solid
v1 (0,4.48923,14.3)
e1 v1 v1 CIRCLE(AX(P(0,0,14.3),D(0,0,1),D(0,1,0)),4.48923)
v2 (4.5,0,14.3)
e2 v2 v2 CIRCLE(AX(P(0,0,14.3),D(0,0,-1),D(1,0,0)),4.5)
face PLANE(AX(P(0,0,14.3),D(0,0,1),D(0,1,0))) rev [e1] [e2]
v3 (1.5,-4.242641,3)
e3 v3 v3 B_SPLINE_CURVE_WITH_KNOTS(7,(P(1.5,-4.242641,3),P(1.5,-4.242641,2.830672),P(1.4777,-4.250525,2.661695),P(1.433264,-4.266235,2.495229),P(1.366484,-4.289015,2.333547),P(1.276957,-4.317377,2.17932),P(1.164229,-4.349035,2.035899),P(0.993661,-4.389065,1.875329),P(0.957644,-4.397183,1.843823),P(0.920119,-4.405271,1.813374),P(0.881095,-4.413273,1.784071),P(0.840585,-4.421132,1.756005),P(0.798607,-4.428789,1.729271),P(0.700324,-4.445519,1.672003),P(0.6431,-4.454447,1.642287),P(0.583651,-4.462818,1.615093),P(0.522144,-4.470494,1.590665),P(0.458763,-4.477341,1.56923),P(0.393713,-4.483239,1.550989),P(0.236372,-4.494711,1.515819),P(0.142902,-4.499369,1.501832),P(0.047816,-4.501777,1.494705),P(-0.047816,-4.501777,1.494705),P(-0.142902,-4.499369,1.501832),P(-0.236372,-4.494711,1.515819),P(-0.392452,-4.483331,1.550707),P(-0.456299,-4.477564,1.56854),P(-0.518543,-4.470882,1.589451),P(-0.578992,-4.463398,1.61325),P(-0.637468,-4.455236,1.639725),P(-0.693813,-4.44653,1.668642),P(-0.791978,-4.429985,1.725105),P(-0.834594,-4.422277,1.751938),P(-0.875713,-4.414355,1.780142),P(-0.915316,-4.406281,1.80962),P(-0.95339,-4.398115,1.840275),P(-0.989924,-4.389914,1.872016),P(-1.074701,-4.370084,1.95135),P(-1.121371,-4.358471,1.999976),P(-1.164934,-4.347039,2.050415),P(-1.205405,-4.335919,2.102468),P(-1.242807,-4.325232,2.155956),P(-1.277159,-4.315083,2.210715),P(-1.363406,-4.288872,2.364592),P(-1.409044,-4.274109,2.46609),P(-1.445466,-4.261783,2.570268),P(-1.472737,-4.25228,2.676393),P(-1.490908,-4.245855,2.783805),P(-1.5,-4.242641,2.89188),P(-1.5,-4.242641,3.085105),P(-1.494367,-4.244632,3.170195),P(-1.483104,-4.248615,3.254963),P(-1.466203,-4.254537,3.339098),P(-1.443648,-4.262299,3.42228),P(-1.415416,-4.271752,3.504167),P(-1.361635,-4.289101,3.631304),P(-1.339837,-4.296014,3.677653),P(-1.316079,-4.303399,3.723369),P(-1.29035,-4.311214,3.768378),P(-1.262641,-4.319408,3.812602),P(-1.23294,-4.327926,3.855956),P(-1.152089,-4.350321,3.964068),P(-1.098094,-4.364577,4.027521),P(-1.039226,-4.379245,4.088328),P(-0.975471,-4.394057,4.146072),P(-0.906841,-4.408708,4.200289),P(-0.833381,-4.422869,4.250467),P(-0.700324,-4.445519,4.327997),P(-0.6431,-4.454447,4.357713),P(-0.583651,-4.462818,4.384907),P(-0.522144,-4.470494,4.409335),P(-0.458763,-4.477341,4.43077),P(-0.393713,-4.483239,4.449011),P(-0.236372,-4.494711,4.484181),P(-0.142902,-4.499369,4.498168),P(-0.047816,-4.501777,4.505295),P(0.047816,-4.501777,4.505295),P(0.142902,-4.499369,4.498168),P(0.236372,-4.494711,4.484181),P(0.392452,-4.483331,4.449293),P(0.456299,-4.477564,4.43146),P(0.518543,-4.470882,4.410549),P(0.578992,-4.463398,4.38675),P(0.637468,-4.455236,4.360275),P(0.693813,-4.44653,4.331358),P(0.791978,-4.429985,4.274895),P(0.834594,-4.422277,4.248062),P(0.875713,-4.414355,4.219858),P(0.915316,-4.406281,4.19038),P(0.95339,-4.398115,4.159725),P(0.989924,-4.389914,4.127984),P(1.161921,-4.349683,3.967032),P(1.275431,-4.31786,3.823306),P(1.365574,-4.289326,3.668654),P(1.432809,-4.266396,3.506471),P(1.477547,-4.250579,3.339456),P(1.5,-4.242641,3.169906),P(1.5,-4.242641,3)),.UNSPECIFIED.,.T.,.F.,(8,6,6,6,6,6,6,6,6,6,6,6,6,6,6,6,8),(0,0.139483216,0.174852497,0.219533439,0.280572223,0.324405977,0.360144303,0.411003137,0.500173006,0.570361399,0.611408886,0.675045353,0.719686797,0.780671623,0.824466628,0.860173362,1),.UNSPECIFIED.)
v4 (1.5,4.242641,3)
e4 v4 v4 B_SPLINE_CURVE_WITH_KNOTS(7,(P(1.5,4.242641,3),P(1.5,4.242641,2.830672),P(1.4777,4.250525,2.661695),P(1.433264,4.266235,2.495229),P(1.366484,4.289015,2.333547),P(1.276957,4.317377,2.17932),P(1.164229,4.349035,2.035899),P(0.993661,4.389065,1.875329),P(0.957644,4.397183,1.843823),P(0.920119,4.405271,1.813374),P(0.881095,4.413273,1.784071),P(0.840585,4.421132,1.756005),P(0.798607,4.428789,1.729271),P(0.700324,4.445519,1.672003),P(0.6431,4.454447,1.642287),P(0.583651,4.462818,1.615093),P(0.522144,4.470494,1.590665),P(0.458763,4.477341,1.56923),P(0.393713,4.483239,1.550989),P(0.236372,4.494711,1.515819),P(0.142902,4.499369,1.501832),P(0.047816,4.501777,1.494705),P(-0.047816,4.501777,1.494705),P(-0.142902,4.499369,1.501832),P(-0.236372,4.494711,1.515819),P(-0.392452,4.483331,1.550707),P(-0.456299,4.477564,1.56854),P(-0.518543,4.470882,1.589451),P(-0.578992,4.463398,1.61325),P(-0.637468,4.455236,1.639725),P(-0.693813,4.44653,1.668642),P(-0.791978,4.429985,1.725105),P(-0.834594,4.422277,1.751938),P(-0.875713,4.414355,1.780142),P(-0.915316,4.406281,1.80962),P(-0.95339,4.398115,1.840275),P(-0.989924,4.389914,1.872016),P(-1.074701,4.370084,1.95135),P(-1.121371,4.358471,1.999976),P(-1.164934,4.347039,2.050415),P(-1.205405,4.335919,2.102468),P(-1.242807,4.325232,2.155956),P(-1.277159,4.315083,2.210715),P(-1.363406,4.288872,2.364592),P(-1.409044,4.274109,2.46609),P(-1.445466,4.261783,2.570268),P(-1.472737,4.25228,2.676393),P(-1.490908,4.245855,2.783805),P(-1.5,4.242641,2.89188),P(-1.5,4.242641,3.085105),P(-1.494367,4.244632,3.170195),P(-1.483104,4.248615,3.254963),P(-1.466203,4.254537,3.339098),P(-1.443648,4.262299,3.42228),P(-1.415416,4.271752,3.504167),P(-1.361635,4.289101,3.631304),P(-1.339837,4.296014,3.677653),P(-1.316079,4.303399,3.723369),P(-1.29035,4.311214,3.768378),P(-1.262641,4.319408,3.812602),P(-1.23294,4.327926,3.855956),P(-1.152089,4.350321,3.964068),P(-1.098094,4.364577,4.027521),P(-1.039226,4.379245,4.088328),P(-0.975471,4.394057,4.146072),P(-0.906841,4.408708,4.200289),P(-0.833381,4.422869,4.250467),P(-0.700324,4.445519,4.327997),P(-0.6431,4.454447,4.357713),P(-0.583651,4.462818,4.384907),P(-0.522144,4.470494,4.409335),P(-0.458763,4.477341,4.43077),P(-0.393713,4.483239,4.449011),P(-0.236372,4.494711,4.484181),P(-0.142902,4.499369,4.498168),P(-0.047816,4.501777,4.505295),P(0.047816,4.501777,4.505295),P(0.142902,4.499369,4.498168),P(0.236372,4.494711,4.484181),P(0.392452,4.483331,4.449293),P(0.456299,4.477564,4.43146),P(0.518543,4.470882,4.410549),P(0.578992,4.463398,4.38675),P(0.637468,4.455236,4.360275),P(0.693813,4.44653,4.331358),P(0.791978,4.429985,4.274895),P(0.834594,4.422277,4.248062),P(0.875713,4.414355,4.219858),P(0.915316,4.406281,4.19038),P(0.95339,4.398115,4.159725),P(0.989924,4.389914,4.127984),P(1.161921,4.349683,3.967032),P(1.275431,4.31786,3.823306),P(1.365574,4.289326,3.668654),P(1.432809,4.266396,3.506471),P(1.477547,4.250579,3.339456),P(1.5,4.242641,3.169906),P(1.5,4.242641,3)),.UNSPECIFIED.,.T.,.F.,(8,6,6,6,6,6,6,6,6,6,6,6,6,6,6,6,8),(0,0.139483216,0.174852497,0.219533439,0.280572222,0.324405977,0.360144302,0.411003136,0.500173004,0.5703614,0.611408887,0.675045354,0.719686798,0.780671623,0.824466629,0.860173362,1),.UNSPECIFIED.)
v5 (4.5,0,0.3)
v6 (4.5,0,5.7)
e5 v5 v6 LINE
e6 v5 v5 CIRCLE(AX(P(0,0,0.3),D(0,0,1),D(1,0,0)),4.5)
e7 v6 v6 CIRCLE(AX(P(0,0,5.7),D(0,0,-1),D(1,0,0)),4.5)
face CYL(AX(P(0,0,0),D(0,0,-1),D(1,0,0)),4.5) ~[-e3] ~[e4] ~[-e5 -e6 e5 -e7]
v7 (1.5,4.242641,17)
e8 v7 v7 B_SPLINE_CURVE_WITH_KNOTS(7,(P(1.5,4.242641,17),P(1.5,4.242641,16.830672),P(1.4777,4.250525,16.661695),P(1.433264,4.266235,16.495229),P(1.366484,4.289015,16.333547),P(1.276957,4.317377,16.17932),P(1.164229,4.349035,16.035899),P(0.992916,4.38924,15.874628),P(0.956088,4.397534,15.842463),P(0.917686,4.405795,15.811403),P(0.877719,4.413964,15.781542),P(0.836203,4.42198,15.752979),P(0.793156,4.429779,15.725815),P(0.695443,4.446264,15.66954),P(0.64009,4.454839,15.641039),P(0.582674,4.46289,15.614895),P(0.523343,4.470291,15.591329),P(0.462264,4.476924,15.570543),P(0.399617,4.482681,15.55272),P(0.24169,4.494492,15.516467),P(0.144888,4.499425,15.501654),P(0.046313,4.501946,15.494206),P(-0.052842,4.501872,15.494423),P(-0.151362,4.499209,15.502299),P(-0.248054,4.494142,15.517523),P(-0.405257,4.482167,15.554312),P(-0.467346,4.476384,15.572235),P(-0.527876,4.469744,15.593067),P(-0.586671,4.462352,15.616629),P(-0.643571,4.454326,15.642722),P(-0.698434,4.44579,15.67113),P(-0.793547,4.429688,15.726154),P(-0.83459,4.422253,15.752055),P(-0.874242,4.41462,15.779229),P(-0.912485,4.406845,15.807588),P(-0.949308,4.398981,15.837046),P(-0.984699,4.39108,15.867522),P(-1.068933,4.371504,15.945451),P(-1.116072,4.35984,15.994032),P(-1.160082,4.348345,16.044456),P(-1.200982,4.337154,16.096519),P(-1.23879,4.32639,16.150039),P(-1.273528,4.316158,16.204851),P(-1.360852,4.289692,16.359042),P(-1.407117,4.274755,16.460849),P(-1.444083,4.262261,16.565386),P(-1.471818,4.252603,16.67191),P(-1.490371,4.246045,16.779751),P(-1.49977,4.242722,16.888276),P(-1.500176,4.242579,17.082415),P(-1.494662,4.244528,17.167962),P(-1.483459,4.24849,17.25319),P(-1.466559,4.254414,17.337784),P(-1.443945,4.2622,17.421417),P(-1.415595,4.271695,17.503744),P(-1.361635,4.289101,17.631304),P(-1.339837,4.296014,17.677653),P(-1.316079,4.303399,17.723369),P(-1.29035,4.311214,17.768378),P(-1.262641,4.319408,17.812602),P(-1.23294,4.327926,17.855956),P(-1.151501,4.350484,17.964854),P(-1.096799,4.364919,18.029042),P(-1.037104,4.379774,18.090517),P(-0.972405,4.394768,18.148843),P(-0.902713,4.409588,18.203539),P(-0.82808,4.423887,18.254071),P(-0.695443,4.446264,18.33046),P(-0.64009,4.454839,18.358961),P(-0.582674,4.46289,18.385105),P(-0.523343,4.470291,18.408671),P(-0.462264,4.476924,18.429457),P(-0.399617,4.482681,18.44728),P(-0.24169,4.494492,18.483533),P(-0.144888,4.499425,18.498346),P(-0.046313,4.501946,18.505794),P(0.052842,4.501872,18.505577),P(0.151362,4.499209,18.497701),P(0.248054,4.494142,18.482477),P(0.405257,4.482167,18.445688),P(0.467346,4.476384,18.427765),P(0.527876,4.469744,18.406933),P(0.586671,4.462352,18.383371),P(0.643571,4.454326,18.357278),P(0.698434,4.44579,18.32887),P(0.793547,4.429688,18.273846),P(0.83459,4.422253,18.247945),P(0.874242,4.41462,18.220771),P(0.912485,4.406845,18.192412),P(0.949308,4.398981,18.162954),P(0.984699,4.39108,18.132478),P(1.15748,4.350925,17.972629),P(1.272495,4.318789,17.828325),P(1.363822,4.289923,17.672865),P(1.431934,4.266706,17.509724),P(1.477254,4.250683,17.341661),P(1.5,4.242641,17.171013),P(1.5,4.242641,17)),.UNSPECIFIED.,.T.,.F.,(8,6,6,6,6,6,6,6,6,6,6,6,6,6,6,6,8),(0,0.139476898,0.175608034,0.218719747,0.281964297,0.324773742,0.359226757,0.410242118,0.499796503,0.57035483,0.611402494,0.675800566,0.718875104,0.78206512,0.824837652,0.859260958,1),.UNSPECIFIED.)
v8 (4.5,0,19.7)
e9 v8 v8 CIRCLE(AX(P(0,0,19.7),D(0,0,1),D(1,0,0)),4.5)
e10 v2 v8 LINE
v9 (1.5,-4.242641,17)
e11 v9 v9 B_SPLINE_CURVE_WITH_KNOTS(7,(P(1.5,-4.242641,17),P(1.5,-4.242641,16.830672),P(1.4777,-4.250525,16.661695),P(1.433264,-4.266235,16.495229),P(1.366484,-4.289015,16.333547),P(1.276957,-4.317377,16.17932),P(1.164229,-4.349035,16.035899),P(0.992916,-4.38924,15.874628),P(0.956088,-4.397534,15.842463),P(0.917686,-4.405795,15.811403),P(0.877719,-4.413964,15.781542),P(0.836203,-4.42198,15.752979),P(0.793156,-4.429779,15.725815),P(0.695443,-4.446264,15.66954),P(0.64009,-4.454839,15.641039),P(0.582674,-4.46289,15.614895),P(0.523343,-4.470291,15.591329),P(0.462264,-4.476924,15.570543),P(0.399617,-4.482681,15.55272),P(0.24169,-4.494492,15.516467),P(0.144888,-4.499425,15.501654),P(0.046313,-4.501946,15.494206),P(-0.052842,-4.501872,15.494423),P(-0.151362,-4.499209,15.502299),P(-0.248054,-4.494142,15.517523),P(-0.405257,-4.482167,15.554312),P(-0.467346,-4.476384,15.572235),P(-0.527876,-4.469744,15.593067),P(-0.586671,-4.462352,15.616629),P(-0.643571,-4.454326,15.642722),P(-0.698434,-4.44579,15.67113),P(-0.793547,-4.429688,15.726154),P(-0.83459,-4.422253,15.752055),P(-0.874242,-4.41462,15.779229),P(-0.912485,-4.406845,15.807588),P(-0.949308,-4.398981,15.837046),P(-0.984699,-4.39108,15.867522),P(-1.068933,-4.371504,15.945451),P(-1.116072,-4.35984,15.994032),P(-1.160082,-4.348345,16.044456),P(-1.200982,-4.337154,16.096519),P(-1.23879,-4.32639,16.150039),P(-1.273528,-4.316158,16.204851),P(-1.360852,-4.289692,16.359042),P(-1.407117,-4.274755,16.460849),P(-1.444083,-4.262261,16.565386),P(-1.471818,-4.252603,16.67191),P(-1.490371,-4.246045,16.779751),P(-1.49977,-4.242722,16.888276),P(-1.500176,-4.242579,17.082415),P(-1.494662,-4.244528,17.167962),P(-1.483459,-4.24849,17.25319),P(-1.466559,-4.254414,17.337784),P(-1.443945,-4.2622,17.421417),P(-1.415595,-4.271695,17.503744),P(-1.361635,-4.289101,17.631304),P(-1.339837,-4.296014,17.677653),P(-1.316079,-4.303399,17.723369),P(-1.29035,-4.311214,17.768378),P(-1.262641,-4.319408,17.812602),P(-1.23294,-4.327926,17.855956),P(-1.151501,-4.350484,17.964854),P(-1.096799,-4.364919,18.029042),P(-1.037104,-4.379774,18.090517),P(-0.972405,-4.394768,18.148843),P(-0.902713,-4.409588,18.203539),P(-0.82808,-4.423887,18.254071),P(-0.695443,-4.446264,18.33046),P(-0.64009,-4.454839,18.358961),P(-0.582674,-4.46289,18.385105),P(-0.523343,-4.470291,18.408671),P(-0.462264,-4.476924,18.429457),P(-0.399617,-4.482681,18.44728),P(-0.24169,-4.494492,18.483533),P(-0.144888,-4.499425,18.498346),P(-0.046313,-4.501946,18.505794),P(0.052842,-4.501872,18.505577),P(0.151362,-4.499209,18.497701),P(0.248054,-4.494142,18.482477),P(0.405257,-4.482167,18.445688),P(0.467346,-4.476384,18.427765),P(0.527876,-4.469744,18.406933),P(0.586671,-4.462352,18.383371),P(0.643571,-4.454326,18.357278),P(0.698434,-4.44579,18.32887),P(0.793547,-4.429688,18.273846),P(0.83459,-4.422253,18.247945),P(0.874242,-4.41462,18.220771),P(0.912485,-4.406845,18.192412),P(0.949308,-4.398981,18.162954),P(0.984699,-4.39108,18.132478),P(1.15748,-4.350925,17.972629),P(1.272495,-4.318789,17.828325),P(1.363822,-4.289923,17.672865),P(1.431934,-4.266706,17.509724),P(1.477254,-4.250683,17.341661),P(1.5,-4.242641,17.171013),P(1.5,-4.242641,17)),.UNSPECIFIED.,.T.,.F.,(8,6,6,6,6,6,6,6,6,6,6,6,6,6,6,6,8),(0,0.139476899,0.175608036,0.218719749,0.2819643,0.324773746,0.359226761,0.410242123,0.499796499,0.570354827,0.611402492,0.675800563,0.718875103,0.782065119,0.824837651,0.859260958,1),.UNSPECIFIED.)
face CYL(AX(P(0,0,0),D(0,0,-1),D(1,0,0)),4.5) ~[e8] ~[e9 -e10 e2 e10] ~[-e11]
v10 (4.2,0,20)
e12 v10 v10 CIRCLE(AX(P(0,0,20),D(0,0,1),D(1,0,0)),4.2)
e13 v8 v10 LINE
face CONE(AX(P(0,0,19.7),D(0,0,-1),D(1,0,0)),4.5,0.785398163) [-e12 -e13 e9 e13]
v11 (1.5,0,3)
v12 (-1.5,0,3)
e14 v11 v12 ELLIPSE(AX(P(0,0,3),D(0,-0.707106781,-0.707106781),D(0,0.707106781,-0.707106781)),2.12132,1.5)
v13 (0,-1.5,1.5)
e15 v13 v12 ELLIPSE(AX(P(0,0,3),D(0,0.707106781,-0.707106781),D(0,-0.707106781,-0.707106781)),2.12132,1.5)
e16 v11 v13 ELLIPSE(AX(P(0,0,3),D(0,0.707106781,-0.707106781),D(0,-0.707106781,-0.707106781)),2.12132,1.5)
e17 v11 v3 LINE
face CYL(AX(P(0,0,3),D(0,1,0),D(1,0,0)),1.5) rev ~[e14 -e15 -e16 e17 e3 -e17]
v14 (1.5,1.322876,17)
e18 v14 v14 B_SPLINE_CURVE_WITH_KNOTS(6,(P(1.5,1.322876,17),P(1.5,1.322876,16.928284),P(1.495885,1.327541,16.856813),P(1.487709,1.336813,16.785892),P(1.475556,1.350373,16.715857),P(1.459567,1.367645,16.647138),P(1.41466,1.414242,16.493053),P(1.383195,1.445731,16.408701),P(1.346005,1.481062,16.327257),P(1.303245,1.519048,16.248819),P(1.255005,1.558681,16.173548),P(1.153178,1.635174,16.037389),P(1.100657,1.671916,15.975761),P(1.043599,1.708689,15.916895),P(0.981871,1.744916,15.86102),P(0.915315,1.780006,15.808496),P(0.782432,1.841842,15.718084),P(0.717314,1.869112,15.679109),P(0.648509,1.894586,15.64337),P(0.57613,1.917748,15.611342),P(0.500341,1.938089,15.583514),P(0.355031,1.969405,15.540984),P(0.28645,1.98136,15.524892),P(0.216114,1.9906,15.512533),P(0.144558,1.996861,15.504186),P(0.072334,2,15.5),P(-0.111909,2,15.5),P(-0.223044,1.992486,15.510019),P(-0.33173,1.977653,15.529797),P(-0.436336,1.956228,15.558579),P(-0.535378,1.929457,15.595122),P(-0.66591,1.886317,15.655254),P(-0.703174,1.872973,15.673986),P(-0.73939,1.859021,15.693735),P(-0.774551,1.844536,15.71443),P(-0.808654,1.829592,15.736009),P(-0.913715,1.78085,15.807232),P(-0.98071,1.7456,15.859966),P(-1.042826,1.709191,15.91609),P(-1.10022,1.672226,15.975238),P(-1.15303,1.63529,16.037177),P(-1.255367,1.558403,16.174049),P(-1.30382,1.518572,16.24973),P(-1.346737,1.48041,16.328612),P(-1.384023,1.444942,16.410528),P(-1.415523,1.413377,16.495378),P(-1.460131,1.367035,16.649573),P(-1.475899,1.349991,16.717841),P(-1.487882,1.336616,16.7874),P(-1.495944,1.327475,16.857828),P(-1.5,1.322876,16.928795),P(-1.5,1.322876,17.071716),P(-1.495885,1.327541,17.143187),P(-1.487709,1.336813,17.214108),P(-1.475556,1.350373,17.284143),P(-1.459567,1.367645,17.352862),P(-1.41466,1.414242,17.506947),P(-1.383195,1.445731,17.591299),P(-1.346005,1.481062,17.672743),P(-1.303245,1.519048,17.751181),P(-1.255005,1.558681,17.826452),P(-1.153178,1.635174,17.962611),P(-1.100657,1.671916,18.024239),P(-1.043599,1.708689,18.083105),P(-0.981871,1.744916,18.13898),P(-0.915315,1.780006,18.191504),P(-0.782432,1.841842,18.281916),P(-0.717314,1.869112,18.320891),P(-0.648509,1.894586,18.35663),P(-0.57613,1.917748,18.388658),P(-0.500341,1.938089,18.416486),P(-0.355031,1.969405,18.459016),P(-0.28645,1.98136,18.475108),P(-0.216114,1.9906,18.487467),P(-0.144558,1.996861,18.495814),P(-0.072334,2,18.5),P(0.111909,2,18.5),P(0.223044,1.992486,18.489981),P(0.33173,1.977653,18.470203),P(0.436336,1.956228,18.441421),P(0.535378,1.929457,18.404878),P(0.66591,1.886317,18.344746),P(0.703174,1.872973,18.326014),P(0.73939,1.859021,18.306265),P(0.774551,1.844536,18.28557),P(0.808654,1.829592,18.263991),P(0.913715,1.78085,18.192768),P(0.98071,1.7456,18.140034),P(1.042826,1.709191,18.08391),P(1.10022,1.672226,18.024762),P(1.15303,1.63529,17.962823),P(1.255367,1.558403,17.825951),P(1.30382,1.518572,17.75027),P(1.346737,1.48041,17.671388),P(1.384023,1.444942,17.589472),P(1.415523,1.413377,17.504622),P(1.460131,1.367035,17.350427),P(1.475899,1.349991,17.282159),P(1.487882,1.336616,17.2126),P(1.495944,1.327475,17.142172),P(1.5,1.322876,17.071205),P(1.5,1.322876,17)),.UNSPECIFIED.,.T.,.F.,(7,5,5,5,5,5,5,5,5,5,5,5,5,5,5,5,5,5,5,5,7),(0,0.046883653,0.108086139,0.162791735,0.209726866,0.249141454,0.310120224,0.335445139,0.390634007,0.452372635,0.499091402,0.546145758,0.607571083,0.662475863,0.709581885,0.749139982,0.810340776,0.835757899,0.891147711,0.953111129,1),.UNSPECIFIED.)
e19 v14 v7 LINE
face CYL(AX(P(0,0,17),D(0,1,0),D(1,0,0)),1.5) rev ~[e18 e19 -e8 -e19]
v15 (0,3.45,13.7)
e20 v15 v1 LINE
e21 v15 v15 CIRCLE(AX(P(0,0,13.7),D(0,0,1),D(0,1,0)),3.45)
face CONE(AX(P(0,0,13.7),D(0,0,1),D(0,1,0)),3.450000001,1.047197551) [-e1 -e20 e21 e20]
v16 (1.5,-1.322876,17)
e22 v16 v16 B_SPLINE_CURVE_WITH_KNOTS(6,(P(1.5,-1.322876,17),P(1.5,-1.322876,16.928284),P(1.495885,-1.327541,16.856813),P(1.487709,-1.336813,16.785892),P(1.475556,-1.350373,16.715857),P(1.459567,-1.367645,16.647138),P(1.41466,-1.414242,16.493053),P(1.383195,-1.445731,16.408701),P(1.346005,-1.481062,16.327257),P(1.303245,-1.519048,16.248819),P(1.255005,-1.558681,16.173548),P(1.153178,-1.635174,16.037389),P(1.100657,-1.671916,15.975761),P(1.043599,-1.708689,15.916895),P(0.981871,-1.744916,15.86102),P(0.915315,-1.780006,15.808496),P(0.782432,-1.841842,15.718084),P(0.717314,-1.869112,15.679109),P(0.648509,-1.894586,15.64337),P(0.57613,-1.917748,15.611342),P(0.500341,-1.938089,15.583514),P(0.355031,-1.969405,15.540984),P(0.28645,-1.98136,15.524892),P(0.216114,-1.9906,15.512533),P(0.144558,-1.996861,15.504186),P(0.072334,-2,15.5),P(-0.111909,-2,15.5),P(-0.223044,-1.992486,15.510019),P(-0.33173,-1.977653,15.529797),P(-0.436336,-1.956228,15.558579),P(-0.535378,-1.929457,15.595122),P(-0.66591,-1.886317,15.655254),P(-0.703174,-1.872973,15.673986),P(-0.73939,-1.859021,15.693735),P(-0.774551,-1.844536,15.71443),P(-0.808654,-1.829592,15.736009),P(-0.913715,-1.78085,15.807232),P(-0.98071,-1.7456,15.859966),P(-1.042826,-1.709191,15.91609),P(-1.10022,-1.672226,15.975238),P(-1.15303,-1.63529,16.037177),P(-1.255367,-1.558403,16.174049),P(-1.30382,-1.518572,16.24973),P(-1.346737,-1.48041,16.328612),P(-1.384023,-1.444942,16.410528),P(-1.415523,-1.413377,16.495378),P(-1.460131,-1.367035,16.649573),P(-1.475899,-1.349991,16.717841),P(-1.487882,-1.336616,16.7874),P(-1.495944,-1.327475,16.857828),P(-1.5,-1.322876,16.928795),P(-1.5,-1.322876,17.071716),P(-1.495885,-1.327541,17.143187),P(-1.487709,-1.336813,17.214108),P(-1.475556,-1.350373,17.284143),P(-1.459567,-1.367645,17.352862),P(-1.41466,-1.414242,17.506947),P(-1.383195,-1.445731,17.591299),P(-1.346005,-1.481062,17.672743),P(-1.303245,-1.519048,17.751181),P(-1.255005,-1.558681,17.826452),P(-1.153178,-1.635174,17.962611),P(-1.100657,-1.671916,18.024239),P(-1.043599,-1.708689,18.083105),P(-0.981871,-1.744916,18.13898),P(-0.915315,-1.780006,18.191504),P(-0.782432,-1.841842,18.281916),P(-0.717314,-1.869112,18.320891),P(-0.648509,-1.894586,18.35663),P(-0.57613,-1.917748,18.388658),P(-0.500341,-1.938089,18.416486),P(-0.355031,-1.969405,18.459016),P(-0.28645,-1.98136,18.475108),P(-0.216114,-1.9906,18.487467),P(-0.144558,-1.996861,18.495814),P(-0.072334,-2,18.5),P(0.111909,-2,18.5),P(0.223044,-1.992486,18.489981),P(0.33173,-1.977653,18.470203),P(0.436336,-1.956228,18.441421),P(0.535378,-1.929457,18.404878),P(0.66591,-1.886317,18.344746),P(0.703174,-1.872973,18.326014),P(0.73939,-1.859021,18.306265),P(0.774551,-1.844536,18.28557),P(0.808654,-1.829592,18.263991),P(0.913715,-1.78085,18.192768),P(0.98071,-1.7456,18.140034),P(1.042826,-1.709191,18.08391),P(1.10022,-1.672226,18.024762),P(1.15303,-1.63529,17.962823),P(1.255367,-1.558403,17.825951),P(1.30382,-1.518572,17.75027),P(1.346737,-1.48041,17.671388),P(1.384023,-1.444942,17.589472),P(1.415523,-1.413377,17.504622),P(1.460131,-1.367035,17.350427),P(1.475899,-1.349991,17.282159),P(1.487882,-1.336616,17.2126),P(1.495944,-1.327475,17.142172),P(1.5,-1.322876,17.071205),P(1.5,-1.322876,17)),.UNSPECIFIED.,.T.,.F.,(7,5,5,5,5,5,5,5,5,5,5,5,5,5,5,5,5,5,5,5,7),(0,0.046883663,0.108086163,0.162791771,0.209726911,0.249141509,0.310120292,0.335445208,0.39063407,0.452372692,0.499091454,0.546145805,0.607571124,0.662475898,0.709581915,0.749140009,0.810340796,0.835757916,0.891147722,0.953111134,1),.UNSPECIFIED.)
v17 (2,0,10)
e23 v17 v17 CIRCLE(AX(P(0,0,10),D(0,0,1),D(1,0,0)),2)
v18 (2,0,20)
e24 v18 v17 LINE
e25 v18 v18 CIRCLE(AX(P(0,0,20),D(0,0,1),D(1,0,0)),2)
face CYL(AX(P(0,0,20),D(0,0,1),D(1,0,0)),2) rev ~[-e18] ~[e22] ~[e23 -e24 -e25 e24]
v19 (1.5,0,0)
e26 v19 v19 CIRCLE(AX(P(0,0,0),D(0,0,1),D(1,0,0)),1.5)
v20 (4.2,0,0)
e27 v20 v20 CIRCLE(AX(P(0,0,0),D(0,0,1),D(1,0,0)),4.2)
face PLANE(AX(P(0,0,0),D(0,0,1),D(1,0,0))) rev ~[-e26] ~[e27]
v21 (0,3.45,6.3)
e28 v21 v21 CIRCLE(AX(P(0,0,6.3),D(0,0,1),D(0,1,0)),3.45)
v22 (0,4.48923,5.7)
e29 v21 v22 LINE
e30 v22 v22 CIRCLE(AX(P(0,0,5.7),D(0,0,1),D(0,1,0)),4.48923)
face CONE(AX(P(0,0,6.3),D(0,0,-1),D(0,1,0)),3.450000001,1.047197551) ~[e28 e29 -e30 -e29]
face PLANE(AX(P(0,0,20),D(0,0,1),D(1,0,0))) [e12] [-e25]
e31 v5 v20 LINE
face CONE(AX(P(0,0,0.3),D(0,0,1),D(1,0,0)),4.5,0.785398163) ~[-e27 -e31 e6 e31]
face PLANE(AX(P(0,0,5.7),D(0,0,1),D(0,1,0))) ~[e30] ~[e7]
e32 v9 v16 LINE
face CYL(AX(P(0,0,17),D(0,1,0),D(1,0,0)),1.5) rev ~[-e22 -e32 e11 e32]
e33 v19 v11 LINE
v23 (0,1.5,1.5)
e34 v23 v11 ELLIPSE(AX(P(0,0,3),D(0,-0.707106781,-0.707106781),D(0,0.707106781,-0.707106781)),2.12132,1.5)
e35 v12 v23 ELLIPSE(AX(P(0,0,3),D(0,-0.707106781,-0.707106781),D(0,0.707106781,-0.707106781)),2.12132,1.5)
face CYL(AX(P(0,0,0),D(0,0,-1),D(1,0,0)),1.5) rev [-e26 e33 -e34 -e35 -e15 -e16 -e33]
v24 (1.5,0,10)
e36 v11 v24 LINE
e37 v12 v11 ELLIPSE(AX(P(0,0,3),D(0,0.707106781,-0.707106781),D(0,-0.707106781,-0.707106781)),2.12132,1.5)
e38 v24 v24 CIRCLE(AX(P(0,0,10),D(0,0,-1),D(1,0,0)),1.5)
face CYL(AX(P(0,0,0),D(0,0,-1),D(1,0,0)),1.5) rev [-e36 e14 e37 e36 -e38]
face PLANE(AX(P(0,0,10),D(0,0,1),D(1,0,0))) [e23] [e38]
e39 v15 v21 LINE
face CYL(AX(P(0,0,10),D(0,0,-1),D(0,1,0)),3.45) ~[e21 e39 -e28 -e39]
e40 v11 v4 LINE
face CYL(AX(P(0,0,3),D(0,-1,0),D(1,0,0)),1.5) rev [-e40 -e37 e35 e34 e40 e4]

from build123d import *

# Parameters (mm, degrees)
SKICA8_R                 = 4.5
SKICA8_R_2               = 1.5
P_IDAT_VYSUNUT_M8_DEPTH  = 20
SKICA9_W                 = 8.6
SKICA9_H                 = 1.884529933
ZKOSEN_1_SIZE            = 0.6
ZKOSEN_1_SIZE2           = 1.039230485
ZKOSEN_2_SIZE            = 0.6
ZKOSEN_2_SIZE2           = 1.039230485
ZKOSEN_3_SIZE            = 0.3
SKICA10_R                = 1.5
ODEBRAT_VYSUNUT_M1_DEPTH = 10
SKICA11_R                = 2
ODEBRAT_VYSUNUT_M2_DEPTH = 10


with BuildPart() as part:
    # Skica8 → Přidat vysunutím8 (new body)
    with BuildSketch(Plane(origin=(23.8, 0, 0), x_dir=(1, 0, 0), z_dir=(0, 0, 1))):
        with Locations((-23.8, 0)):
            Circle(SKICA8_R)
        with Locations((-23.8, 0)):
            Circle(SKICA8_R_2, mode=Mode.SUBTRACT)
    extrude(amount=P_IDAT_VYSUNUT_M8_DEPTH)

    # Skica9 → Odebrat rotací1 (revolve, cut)
    with BuildSketch(Plane(origin=(0, 0, 0), x_dir=(0, 0, -1), z_dir=(1, 0, 0))):
        with Locations((-10, 4.392264967)):
            Rectangle(SKICA9_W, SKICA9_H)
    revolve(axis=Axis((0, 0, 0), (0, 0, 1)), mode=Mode.SUBTRACT)

    # Zkosení1
    zkosen_1_edges = [part.edges().sort_by_distance(p)[0] for p in [
        (0, -3.45, 5.7),
    ]]
    zkosen_1_side = [part.faces().sort_by_distance(p)[0] for p in [
        (0, -3.45, 10),
    ]]
    chamfer(zkosen_1_edges, length=ZKOSEN_1_SIZE, length2=ZKOSEN_1_SIZE2, reference=zkosen_1_side[0])

    # Zkosení2
    zkosen_2_edges = [part.edges().sort_by_distance(p)[0] for p in [
        (0, -3.45, 14.3),
    ]]
    zkosen_2_side = [part.faces().sort_by_distance(p)[0] for p in [
        (0, -3.45, 10.3),
    ]]
    chamfer(zkosen_2_edges, length=ZKOSEN_2_SIZE, length2=ZKOSEN_2_SIZE2, reference=zkosen_2_side[0])

    # Zkosení3
    zkosen_3_edges = [part.edges().sort_by_distance(p)[0] for p in [
        (-4.5, 0, 0),
        (-4.5, 0, 20),
    ]]
    chamfer(zkosen_3_edges, length=ZKOSEN_3_SIZE)

    # Skica10 → Odebrat vysunutím1 (cut, symmetric)
    with BuildSketch(Plane(origin=(0, 0, 0), x_dir=(1, 0, 0), z_dir=(0, 1, 0))):
        with Locations((0, -3)):
            Circle(SKICA10_R)
        with Locations((0, -17)):
            Circle(SKICA10_R)
    extrude(amount=ODEBRAT_VYSUNUT_M1_DEPTH, both=True, mode=Mode.SUBTRACT)

    # Skica11 → Odebrat vysunutím2 (cut)
    with BuildSketch(Plane.XY.offset(20)):
        Circle(SKICA11_R)
    extrude(amount=-ODEBRAT_VYSUNUT_M2_DEPTH, mode=Mode.SUBTRACT)


solid = part.part
